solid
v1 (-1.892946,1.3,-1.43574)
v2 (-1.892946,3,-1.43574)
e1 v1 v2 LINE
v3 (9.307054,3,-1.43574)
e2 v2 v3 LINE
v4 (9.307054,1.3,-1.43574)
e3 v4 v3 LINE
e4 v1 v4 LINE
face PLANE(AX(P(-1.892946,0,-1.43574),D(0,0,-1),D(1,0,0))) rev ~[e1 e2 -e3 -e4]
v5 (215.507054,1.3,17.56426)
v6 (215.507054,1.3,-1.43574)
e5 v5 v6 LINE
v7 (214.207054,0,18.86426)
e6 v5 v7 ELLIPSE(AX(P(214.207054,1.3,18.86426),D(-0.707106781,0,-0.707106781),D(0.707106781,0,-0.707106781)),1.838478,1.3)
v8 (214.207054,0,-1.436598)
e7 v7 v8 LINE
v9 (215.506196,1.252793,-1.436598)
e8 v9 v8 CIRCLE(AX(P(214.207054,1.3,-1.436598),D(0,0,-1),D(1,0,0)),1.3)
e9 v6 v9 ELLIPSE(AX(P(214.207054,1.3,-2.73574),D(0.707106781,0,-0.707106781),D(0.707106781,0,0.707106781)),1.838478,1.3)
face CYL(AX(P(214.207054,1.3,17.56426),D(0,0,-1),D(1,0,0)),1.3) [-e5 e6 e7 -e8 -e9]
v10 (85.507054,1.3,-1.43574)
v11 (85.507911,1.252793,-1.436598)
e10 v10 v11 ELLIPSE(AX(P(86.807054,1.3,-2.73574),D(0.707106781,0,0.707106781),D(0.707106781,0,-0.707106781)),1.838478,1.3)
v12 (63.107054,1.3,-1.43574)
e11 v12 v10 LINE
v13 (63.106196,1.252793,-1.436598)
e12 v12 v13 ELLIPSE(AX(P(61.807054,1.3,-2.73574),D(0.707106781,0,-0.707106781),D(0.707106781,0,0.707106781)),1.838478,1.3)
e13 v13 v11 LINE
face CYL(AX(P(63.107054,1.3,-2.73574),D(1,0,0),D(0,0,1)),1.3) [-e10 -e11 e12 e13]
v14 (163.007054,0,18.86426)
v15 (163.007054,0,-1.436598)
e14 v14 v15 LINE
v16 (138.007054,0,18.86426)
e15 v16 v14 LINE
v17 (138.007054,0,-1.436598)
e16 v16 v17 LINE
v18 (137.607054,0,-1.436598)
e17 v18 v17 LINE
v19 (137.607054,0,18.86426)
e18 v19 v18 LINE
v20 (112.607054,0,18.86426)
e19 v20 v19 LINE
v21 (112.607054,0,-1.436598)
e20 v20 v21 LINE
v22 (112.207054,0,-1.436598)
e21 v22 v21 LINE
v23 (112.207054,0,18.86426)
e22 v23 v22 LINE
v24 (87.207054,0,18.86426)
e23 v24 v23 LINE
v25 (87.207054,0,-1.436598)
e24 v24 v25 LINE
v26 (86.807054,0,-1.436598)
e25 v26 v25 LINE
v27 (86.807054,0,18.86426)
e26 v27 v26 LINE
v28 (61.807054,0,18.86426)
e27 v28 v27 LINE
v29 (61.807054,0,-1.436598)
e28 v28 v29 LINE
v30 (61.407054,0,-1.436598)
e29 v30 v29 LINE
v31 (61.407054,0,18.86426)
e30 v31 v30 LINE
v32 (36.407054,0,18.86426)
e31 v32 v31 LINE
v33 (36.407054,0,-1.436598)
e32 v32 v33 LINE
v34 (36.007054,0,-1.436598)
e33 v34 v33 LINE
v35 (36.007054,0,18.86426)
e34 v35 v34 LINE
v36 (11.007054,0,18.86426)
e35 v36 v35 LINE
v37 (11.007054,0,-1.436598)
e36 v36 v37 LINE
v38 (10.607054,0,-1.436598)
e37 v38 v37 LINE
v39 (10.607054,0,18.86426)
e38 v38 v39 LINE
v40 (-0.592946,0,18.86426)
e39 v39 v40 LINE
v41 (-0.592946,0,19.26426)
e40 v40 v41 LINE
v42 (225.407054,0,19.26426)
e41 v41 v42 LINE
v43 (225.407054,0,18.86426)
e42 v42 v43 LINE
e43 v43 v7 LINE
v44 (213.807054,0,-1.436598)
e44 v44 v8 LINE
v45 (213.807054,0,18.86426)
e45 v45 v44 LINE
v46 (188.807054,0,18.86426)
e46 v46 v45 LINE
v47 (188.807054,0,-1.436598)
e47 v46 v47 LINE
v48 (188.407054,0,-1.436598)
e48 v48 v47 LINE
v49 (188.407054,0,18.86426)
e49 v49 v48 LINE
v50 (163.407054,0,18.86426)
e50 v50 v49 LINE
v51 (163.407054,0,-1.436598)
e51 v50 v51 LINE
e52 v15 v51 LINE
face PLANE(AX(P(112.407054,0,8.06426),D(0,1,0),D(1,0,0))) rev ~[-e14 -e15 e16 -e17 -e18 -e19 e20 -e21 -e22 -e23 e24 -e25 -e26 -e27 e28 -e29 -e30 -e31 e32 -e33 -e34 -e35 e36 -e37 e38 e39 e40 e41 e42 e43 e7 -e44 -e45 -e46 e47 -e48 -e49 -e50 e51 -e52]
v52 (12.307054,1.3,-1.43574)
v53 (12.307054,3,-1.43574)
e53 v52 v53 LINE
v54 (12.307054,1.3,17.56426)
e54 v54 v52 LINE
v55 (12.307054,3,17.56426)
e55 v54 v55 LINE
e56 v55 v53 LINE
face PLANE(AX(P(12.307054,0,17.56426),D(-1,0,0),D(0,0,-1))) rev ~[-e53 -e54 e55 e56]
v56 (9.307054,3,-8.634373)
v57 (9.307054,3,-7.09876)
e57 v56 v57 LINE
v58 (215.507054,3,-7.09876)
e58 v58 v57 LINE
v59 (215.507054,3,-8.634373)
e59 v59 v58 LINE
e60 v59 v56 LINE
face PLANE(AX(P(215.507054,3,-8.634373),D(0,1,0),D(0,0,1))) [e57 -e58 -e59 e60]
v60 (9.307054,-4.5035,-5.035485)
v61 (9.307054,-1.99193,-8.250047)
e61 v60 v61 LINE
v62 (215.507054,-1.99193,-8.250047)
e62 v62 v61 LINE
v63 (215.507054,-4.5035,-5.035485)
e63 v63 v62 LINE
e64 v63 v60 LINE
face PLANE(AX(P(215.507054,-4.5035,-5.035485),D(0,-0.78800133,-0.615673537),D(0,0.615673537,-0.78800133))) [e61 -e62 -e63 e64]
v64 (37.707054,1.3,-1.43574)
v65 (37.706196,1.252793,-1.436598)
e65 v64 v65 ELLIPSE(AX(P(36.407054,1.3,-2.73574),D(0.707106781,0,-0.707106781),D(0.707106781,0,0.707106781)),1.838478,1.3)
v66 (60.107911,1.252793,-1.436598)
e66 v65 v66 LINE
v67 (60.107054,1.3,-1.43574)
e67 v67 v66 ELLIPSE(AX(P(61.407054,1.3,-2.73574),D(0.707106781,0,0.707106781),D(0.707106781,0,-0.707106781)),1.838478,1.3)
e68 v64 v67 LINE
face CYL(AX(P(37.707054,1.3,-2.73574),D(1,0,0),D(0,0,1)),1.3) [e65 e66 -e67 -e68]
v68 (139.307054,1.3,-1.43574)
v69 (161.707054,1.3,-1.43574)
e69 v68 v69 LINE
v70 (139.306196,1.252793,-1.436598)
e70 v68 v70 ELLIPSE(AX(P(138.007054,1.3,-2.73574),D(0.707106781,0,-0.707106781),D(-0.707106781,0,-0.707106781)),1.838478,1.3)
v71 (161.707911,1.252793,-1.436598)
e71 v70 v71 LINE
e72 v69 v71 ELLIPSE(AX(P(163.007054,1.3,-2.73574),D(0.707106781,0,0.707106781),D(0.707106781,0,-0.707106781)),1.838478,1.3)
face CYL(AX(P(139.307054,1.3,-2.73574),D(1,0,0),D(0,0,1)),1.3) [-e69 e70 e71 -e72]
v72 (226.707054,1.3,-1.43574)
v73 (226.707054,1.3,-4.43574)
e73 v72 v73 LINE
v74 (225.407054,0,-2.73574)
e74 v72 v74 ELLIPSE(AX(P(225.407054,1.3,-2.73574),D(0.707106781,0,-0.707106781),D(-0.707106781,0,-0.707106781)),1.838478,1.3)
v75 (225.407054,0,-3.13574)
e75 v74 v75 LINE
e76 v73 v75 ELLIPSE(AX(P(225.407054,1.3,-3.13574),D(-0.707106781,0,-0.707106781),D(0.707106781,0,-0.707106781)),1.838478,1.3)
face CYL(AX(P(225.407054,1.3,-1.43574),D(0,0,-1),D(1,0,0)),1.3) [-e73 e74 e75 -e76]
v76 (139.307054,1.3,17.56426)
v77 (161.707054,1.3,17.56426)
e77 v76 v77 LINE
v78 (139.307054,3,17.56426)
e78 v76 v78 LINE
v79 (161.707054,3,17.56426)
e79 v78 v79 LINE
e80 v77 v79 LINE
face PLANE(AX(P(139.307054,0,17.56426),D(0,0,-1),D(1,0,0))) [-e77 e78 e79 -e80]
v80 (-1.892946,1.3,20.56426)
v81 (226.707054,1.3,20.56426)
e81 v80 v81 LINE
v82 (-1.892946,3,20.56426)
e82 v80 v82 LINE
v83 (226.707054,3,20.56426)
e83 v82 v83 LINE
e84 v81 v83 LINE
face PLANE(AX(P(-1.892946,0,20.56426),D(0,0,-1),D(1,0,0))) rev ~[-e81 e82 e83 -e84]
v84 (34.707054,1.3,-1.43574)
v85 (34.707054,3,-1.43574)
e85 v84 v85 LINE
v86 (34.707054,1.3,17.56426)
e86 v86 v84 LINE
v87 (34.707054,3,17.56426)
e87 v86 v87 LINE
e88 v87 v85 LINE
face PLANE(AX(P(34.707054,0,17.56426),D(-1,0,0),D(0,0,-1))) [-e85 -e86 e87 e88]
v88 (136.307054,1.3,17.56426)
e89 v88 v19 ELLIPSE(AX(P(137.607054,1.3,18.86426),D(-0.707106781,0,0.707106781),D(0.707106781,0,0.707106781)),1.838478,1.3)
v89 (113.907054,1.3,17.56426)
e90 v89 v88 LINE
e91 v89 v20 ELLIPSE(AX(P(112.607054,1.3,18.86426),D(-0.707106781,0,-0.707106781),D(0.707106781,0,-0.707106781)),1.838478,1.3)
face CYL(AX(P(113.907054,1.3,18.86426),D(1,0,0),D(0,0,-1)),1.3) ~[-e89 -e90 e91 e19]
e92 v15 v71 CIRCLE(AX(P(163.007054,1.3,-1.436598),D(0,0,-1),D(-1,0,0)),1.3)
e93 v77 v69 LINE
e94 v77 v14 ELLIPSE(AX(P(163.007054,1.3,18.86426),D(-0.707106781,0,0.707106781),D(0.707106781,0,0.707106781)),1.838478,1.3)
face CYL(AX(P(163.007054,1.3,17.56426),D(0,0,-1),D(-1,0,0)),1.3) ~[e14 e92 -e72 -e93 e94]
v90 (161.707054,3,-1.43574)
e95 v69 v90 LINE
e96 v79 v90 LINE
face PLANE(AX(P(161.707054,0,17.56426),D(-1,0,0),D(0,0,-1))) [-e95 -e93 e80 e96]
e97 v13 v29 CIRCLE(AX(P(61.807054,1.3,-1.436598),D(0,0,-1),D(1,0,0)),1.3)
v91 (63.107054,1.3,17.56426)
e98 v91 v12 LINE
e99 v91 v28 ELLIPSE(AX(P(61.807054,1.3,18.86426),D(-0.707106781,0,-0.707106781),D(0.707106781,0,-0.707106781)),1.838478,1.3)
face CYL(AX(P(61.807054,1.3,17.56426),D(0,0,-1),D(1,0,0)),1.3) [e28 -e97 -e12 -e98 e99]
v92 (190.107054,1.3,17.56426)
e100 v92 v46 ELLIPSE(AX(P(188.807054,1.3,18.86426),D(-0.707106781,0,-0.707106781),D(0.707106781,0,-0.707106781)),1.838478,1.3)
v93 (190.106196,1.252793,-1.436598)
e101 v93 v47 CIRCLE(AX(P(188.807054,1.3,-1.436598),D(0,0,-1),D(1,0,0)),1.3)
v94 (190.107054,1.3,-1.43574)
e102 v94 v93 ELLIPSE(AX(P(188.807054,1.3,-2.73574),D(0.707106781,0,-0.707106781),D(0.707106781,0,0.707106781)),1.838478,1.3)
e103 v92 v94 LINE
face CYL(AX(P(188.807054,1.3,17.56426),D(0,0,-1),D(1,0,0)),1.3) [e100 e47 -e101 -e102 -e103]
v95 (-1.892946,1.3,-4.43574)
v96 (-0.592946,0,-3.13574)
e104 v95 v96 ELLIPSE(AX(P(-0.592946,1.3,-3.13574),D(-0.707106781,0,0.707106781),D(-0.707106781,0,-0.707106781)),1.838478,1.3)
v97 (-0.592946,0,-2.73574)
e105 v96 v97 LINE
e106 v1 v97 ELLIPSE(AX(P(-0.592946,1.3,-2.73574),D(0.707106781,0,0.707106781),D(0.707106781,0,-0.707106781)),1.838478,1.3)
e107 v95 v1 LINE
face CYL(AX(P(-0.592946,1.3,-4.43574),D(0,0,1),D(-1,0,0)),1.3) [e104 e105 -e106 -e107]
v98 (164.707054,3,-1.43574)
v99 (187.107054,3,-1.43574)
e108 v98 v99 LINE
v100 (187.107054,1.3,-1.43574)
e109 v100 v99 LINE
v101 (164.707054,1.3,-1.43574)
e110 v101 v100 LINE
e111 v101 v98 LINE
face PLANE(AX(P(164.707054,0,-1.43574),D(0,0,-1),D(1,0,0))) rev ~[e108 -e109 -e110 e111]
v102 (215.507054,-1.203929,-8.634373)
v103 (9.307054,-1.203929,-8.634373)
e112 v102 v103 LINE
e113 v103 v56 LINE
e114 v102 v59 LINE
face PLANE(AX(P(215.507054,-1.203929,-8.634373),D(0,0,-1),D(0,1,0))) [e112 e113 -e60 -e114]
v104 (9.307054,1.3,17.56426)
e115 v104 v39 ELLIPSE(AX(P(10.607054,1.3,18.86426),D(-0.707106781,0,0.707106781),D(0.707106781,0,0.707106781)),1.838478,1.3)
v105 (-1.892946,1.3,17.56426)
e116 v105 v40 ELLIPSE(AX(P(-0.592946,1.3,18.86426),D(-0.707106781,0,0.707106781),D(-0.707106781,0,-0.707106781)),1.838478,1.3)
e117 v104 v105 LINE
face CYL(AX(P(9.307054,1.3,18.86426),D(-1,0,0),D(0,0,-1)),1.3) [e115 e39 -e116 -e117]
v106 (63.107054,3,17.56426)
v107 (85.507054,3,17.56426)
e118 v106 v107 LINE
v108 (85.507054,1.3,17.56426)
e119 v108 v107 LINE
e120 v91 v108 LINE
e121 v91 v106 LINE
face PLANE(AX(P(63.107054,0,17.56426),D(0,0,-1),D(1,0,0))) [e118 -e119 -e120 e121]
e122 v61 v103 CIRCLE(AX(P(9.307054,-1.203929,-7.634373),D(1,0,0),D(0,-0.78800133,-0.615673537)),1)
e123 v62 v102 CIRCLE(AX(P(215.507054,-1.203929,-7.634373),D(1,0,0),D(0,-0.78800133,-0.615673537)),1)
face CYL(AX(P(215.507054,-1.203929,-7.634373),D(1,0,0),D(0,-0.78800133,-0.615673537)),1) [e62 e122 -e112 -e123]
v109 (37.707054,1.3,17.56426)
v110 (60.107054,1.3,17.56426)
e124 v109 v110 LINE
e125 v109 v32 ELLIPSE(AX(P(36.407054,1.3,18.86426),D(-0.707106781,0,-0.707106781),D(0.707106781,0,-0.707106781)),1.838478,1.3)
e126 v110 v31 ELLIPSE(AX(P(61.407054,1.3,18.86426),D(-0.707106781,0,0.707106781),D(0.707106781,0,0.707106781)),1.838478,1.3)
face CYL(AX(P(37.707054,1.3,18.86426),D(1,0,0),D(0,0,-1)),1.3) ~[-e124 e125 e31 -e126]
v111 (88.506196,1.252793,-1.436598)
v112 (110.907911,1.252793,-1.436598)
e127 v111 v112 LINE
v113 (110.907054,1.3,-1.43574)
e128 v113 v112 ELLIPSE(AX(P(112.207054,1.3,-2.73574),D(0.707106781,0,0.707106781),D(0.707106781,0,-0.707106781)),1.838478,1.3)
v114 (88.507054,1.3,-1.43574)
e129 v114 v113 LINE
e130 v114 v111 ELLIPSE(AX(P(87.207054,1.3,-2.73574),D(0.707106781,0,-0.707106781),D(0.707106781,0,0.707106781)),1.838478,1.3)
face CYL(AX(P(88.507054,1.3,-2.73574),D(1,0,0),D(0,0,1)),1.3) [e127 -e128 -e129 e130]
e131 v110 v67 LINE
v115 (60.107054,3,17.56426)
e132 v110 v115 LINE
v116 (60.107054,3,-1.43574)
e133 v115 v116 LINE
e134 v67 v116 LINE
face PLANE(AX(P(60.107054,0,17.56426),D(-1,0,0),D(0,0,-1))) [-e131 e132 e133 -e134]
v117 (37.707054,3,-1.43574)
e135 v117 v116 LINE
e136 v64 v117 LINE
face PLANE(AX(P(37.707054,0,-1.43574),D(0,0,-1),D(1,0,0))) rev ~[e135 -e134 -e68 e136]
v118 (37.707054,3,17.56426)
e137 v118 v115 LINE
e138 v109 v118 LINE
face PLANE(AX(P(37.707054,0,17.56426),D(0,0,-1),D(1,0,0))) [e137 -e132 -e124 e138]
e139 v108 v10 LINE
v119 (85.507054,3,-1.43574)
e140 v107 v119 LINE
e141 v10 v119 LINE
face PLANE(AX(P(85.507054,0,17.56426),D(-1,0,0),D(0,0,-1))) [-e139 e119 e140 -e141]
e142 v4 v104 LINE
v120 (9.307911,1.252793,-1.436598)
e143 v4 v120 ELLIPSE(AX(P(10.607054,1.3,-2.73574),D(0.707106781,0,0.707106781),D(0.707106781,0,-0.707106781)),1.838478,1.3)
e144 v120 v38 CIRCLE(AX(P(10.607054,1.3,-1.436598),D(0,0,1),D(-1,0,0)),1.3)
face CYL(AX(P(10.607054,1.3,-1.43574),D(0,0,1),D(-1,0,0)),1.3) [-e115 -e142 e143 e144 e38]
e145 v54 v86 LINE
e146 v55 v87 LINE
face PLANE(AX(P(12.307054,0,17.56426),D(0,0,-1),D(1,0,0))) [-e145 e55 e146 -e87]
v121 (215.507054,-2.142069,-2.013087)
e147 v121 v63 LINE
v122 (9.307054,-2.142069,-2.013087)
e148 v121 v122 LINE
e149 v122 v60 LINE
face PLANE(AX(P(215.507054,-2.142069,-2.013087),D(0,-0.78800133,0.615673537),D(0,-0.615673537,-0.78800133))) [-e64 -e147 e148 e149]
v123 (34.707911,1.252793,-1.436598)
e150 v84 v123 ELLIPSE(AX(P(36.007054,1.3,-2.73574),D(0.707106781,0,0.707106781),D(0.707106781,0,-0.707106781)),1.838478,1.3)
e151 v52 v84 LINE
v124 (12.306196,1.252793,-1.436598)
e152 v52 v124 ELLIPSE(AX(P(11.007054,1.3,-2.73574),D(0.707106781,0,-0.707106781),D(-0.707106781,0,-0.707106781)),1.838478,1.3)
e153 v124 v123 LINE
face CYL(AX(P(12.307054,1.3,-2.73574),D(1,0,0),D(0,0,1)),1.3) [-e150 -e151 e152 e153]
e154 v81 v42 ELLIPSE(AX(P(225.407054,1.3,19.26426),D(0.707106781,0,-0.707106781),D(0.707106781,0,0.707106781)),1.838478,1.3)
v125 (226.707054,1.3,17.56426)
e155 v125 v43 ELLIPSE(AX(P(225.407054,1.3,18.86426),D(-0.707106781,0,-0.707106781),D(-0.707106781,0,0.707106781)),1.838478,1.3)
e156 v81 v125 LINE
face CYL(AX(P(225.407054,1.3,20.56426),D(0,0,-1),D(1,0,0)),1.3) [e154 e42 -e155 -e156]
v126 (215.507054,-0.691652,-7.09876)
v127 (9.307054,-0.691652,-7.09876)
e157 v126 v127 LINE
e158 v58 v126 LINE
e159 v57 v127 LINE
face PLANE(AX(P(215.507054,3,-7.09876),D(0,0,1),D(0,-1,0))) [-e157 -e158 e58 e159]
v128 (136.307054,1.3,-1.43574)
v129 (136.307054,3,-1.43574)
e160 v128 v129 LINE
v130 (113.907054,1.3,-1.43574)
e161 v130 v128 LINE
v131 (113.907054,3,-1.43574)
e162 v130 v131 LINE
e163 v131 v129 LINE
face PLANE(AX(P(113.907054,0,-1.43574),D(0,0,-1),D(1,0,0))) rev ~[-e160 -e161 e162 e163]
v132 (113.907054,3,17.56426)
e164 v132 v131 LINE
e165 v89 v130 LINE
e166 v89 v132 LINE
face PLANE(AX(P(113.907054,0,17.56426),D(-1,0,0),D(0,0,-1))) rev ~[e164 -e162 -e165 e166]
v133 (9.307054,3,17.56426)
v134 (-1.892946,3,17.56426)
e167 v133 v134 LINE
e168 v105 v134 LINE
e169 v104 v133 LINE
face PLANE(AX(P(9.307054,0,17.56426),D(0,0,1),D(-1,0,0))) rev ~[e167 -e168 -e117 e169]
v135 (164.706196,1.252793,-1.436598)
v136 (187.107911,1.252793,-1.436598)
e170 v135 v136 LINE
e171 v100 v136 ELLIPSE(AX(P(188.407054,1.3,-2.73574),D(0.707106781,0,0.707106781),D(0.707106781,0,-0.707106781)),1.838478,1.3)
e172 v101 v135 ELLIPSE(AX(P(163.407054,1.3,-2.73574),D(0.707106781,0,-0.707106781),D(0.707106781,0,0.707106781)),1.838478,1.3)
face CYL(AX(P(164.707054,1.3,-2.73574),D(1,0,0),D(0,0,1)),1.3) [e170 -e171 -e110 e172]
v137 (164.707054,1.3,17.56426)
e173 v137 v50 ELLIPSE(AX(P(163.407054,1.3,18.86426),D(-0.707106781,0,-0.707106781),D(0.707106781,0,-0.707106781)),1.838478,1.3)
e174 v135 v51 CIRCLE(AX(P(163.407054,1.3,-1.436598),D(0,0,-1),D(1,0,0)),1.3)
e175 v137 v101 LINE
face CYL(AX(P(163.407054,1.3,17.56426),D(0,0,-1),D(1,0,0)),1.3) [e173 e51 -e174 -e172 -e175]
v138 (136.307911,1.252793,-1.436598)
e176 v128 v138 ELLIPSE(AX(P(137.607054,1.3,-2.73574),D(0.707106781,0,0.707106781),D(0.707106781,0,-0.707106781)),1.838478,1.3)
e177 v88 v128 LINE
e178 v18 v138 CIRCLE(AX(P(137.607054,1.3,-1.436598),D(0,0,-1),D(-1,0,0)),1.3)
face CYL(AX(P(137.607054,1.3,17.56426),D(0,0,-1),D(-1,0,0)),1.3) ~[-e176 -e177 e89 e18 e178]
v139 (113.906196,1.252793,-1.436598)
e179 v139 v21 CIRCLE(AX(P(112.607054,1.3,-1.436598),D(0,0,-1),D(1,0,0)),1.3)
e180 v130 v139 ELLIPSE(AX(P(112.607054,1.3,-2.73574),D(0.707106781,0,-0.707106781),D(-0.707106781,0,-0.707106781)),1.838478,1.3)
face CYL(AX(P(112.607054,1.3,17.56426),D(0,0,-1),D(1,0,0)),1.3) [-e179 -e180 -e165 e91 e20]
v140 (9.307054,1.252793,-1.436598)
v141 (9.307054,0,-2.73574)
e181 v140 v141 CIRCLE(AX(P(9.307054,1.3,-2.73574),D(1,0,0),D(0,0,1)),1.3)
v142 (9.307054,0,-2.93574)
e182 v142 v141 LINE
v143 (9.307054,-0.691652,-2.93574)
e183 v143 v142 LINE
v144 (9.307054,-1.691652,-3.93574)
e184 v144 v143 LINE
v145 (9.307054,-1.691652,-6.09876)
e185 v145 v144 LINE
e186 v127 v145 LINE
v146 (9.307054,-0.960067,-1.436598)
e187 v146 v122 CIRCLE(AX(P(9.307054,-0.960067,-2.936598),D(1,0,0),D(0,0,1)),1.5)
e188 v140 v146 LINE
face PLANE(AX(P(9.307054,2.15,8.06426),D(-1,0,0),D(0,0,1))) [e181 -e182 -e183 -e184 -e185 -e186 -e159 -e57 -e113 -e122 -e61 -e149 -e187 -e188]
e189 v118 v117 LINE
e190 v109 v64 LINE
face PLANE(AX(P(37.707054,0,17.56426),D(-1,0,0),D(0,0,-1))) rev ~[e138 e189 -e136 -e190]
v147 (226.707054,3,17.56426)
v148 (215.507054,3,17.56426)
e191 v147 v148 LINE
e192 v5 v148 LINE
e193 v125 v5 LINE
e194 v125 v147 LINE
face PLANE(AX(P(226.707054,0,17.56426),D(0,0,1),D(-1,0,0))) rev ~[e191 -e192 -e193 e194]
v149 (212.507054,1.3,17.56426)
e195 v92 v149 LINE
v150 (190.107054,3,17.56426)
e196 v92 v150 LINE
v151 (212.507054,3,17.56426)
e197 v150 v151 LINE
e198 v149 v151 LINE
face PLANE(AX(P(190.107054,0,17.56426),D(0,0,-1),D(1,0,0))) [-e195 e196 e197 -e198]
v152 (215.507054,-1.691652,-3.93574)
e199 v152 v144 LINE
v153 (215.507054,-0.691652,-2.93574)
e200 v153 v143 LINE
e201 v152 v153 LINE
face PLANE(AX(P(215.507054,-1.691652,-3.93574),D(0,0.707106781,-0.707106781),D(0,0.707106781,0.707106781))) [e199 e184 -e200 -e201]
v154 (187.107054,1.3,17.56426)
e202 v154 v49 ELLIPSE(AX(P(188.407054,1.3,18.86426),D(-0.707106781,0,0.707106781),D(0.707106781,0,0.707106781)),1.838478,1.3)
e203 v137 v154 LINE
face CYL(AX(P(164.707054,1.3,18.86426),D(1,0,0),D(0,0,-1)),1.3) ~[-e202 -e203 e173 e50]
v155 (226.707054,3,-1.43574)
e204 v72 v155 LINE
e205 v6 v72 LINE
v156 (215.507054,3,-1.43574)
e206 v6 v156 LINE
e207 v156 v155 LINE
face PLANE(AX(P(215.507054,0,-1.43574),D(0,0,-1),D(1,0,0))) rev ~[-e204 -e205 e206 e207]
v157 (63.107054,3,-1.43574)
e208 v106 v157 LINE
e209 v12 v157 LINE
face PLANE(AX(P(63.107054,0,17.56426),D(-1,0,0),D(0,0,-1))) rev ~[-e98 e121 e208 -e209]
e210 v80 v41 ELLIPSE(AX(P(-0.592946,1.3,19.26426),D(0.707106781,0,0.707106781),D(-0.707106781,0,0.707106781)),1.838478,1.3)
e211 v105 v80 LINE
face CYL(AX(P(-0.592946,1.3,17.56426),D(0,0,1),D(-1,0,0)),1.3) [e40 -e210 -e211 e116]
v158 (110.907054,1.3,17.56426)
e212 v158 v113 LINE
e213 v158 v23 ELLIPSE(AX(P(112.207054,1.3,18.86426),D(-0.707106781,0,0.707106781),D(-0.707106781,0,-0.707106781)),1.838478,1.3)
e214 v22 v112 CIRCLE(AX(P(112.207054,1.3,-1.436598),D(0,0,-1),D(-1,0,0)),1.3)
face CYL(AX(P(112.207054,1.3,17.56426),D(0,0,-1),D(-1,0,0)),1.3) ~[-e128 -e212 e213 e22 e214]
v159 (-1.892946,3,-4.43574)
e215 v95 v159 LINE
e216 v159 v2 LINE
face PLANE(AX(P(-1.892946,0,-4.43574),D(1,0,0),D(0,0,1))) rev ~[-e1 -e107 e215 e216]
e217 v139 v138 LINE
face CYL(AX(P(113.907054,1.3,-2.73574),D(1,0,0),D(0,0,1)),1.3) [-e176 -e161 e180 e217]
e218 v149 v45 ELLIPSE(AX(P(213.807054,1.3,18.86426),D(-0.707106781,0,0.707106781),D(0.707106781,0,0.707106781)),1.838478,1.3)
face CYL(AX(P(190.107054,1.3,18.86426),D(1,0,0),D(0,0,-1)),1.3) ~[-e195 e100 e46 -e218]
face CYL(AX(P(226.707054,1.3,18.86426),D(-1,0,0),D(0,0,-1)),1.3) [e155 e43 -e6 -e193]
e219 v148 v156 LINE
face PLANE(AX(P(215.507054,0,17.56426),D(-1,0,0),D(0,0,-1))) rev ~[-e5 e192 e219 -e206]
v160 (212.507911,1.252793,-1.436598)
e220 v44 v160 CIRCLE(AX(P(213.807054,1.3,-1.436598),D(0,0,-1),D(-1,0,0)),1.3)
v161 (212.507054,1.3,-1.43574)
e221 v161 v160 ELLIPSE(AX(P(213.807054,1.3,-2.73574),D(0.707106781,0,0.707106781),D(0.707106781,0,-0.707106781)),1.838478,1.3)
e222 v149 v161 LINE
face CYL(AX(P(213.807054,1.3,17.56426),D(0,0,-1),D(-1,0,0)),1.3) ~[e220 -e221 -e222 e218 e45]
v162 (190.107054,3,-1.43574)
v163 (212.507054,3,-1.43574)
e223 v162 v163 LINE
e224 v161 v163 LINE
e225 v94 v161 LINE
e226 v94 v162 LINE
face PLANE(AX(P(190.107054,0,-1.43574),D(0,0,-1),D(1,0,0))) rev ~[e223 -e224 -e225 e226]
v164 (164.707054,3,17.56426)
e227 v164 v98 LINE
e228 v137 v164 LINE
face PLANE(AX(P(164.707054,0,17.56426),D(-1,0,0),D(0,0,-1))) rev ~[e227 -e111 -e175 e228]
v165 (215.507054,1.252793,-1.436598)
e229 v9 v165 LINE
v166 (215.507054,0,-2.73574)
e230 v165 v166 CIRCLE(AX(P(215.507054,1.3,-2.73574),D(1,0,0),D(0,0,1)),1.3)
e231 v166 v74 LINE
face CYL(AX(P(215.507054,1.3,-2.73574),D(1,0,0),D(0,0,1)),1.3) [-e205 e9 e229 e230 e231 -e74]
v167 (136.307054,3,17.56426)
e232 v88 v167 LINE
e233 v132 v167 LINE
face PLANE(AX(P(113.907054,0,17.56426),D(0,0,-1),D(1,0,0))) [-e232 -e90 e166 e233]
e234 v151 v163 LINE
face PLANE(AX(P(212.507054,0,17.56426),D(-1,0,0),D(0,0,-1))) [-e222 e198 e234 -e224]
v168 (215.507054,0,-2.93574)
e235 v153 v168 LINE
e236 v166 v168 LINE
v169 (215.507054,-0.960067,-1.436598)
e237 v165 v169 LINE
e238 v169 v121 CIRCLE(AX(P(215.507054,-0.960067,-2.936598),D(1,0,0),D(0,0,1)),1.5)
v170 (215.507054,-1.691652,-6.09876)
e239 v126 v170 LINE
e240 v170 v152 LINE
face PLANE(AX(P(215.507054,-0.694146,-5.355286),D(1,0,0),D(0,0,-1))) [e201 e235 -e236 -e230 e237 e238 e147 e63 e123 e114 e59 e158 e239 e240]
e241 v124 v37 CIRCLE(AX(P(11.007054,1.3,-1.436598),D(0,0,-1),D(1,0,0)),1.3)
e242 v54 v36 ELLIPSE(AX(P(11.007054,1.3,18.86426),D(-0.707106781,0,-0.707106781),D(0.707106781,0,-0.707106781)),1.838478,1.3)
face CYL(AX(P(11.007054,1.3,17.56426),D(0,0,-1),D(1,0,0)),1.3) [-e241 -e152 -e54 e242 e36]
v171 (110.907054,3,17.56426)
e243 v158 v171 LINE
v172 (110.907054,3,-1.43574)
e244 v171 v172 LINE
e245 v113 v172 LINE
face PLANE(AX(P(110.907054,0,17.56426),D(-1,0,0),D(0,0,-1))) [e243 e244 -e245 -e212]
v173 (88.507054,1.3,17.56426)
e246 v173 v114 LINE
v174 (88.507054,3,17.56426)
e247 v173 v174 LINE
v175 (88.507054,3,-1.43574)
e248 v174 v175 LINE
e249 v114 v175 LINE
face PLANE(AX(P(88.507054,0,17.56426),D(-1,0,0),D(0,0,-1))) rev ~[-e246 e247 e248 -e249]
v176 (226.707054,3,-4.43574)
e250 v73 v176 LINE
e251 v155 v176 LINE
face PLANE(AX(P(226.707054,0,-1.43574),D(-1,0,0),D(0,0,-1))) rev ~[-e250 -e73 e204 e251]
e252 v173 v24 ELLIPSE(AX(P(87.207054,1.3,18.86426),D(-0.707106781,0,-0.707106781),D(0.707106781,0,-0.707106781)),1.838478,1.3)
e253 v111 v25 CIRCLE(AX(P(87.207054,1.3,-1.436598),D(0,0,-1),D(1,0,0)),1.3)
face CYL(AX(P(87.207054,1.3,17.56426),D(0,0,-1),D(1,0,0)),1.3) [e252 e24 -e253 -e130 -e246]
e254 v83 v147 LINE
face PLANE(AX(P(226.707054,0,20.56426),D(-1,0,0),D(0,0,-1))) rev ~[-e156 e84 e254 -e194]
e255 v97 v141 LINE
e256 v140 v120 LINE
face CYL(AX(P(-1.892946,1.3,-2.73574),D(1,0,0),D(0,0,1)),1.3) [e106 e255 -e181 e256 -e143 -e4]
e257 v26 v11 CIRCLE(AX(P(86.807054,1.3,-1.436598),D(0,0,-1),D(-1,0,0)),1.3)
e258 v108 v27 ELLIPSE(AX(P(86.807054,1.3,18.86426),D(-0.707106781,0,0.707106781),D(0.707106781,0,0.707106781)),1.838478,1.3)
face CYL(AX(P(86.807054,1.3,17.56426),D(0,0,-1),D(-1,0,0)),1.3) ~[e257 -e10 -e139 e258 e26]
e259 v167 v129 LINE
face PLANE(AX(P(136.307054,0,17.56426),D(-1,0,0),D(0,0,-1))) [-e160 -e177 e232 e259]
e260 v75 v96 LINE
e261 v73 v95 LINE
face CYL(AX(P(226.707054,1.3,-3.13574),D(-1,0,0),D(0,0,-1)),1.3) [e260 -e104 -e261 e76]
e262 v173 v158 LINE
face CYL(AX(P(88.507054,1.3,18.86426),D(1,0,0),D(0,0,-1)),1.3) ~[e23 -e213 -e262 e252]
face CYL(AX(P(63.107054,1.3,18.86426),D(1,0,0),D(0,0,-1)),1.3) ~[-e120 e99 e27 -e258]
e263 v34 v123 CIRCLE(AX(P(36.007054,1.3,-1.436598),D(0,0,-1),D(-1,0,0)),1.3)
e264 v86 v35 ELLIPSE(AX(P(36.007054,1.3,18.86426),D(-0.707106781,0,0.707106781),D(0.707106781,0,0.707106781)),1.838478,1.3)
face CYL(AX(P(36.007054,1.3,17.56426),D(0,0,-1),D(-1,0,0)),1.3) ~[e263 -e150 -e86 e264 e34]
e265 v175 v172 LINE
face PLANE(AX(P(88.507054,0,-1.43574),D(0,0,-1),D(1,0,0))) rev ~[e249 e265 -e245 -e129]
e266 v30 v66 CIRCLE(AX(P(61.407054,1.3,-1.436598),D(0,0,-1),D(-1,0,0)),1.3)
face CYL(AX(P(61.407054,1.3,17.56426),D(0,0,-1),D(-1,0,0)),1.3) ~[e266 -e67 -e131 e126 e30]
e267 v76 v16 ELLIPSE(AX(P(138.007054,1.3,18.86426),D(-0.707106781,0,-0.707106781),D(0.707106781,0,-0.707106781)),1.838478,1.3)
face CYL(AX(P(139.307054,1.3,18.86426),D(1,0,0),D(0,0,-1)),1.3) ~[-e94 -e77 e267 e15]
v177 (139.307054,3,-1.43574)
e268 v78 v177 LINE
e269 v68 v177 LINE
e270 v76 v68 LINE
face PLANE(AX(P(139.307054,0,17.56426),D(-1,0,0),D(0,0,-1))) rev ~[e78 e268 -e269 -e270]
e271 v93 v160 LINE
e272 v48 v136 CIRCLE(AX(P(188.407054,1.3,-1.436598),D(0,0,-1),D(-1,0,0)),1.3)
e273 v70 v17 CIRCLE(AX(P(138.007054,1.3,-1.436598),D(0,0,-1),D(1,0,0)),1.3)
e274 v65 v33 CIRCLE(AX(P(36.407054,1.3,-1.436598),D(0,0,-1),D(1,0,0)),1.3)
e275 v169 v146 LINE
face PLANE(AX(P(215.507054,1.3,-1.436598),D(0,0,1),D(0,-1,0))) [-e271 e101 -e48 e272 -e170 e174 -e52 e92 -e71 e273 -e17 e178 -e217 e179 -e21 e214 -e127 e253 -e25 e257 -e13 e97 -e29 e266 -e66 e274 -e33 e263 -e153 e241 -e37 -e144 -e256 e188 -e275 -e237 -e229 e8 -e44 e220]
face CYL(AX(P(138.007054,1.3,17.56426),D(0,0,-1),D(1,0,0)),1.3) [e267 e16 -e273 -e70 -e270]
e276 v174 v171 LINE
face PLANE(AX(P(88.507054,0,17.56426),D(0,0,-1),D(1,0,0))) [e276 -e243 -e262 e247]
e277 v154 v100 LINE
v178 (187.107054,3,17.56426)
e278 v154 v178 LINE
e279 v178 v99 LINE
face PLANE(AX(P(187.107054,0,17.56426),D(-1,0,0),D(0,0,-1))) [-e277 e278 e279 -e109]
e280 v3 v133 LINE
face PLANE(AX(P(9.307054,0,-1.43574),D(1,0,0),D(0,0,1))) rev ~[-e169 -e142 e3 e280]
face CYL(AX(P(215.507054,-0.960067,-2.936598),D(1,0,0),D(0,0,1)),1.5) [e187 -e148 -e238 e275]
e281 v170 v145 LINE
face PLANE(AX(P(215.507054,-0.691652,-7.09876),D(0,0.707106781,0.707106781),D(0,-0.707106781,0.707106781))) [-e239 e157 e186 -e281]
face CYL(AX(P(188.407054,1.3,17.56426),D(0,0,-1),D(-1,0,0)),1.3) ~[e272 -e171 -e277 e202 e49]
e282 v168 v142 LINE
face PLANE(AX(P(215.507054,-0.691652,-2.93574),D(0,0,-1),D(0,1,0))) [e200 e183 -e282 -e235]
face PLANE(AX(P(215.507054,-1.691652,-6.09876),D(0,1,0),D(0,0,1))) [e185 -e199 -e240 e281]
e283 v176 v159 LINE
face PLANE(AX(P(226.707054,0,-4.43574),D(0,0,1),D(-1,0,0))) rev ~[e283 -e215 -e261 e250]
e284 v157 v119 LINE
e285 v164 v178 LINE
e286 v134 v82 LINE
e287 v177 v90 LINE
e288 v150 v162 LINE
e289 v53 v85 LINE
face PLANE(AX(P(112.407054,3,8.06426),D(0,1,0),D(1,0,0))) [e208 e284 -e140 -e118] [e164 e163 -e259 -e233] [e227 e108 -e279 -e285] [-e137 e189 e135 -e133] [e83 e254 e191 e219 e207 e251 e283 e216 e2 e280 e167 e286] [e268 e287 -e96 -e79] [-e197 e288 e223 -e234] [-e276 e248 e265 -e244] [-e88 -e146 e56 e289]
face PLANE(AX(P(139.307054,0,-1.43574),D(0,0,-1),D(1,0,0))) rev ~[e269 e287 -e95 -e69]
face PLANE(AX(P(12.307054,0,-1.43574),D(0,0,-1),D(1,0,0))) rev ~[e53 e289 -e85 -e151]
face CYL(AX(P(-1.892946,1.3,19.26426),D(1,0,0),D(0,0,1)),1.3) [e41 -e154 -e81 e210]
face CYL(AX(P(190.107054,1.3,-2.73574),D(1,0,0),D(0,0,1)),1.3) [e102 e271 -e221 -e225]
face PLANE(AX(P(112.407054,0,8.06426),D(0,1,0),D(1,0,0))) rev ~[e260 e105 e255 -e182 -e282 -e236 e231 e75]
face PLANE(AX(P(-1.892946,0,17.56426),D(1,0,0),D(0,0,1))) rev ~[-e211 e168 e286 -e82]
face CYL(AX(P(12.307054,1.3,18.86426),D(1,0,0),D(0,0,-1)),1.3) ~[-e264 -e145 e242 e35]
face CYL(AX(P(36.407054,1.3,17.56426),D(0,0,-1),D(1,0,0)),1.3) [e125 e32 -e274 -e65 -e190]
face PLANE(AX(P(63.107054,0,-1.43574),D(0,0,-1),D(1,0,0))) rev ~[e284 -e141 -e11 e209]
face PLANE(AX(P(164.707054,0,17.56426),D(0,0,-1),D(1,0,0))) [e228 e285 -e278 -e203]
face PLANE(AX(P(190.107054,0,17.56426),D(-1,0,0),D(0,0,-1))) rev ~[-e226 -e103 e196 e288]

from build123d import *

# Parameters (mm, degrees)
SKETCH1_W           = 22.4
SKETCH1_H           = 19
BOSS_EXTRUDE1_DEPTH = 3
FILLET2_R           = 1.3
BOSS_EXTRUDE2_REACH = 220.391


with BuildPart() as part:
    # Sketch1 → Boss-Extrude1 (new body)
    with BuildSketch(Plane(origin=(0, 0, 0), x_dir=(1, 0, 0), z_dir=(0, 1, 0))):
        Polygon((-1.892946275, -20.564259839), (226.707053725, -20.564259839), (226.707053725, -17.564259839), (215.507053725, -17.564259839), (215.507053725, 1.435740161), (226.707053725, 1.435740161), (226.707053725, 4.435740161), (-1.892946275, 4.435740161), (-1.892946275, 1.435740161), (9.307053725, 1.435740161), (9.307053725, -17.564259839), (-1.892946275, -17.564259839), align=None)
        with Locations((23.507053725, -8.064259839)):
            Rectangle(SKETCH1_W, SKETCH1_H, mode=Mode.SUBTRACT)
        with Locations((201.307053725, -8.064259839)):
            Rectangle(SKETCH1_W, SKETCH1_H, mode=Mode.SUBTRACT)
        with Locations((175.907053725, -8.064259839)):
            Rectangle(SKETCH1_W, SKETCH1_H, mode=Mode.SUBTRACT)
        with Locations((150.507053725, -8.064259839)):
            Rectangle(SKETCH1_W, SKETCH1_H, mode=Mode.SUBTRACT)
        with Locations((125.107053725, -8.064259839)):
            Rectangle(SKETCH1_W, SKETCH1_H, mode=Mode.SUBTRACT)
        with Locations((99.707053725, -8.064259839)):
            Rectangle(SKETCH1_W, SKETCH1_H, mode=Mode.SUBTRACT)
        with Locations((74.307053725, -8.064259839)):
            Rectangle(SKETCH1_W, SKETCH1_H, mode=Mode.SUBTRACT)
        with Locations((48.907053725, -8.064259839)):
            Rectangle(SKETCH1_W, SKETCH1_H, mode=Mode.SUBTRACT)
    extrude(amount=BOSS_EXTRUDE1_DEPTH)

    # Fillet2
    fillet2_edges = [part.edges().sort_by_distance(p)[0] for p in [
        (113.907053725, 0, 8.064259839),
        (125.107053725, 0, 17.564259839),
        (110.907053725, 0, 8.064259839),
        (125.107053725, 0, -1.435740161),
        (139.307053725, 0, 8.064259839),
        (150.507053725, 0, 17.564259839),
        (3.707053725, 0, -1.435740161),
        (136.307053725, 0, 8.064259839),
        (150.507053725, 0, -1.435740161),
        (9.307053725, 0, 8.064259839),
        (161.707053725, 0, 8.064259839),
        (3.707053725, 0, 17.564259839),
        (175.907053725, 0, -1.435740161),
        (164.707053725, 0, 8.064259839),
        (175.907053725, 0, 17.564259839),
        (-1.892946275, 0, 19.064259839),
        (187.107053725, 0, 8.064259839),
        (112.407053725, 0, 20.564259839),
        (201.307053725, 0, -1.435740161),
        (190.107053725, 0, 8.064259839),
        (201.307053725, 0, 17.564259839),
        (212.507053725, 0, 8.064259839),
        (226.707053725, 0, -2.935740161),
        (221.107053725, 0, -1.435740161),
        (215.507053725, 0, 8.064259839),
        (221.107053725, 0, 17.564259839),
        (23.507053725, 0, 17.564259839),
        (226.707053725, 0, 19.064259839),
        (12.307053725, 0, 8.064259839),
        (23.507053725, 0, -1.435740161),
        (112.407053725, 0, -4.435740161),
        (-1.892946275, 0, -2.935740161),
        (34.707053725, 0, 8.064259839),
        (48.907053725, 0, -1.435740161),
        (37.707053725, 0, 8.064259839),
        (48.907053725, 0, 17.564259839),
        (60.107053725, 0, 8.064259839),
        (74.307053725, 0, -1.435740161),
        (63.107053725, 0, 8.064259839),
        (74.307053725, 0, 17.564259839),
        (85.507053725, 0, 8.064259839),
        (99.707053725, 0, -1.435740161),
        (88.507053725, 0, 8.064259839),
        (99.707053725, 0, 17.564259839),
    ]]
    fillet(fillet2_edges, radius=FILLET2_R)

    # Boss-Extrude2: up to this face of the body (flat: up to its plane)
    boss_extrude2_end = Plane(part.part.faces().sort_by_distance((9.307053725, 2.15, 8.064259839))[0])
    # Sketch2 → Boss-Extrude2 (add, up to the picked face)
    with BuildSketch(Plane(origin=(215.507053725, 0, 0), x_dir=(0, 0, -1), z_dir=(1, 0, 0)), mode=Mode.PRIVATE) as boss_extrude2_sk1:
        with BuildLine():
            Line((2.935740161, 1.3), (1.43659757, 1.3))
            Line((1.43659757, 1.3), (1.43659757, -0.960067332))
            ThreePointArc((1.43659757, -0.960067332), (1.588401468, -1.617613734), (2.013087264, -2.142069327))
            Line((2.013087264, -2.142069327), (5.035485323, -4.503499992))
            Line((5.035485323, -4.503499992), (8.250046613, -1.991930219))
            ThreePointArc((8.250046613, -1.991930219), (8.533170477, -1.642293157), (8.634373075, -1.203928889))
            Line((8.634373075, -1.203928889), (8.634373075, 3))
            Line((8.634373075, 3), (7.098760361, 3))
            Line((7.098760361, 3), (7.098760361, -0.691652004))
            Line((7.098760361, -0.691652004), (6.098760361, -1.691652004))
            Line((6.098760361, -1.691652004), (3.935740161, -1.691652004))
            Line((3.935740161, -1.691652004), (2.935740161, -0.691652004))
            Line((2.935740161, -0.691652004), (2.935740161, 1.3))
        make_face()
    boss_extrude2_tool1 = split(extrude(boss_extrude2_sk1.sketch, amount=-BOSS_EXTRUDE2_REACH, mode=Mode.PRIVATE), bisect_by=boss_extrude2_end, keep=Keep.BOTH, mode=Mode.PRIVATE)
    add(boss_extrude2_tool1.solids().sort_by(Axis((215.507054, 1.196024, -2.186169), (-1, 0, 0)))[0])


solid = part.part
